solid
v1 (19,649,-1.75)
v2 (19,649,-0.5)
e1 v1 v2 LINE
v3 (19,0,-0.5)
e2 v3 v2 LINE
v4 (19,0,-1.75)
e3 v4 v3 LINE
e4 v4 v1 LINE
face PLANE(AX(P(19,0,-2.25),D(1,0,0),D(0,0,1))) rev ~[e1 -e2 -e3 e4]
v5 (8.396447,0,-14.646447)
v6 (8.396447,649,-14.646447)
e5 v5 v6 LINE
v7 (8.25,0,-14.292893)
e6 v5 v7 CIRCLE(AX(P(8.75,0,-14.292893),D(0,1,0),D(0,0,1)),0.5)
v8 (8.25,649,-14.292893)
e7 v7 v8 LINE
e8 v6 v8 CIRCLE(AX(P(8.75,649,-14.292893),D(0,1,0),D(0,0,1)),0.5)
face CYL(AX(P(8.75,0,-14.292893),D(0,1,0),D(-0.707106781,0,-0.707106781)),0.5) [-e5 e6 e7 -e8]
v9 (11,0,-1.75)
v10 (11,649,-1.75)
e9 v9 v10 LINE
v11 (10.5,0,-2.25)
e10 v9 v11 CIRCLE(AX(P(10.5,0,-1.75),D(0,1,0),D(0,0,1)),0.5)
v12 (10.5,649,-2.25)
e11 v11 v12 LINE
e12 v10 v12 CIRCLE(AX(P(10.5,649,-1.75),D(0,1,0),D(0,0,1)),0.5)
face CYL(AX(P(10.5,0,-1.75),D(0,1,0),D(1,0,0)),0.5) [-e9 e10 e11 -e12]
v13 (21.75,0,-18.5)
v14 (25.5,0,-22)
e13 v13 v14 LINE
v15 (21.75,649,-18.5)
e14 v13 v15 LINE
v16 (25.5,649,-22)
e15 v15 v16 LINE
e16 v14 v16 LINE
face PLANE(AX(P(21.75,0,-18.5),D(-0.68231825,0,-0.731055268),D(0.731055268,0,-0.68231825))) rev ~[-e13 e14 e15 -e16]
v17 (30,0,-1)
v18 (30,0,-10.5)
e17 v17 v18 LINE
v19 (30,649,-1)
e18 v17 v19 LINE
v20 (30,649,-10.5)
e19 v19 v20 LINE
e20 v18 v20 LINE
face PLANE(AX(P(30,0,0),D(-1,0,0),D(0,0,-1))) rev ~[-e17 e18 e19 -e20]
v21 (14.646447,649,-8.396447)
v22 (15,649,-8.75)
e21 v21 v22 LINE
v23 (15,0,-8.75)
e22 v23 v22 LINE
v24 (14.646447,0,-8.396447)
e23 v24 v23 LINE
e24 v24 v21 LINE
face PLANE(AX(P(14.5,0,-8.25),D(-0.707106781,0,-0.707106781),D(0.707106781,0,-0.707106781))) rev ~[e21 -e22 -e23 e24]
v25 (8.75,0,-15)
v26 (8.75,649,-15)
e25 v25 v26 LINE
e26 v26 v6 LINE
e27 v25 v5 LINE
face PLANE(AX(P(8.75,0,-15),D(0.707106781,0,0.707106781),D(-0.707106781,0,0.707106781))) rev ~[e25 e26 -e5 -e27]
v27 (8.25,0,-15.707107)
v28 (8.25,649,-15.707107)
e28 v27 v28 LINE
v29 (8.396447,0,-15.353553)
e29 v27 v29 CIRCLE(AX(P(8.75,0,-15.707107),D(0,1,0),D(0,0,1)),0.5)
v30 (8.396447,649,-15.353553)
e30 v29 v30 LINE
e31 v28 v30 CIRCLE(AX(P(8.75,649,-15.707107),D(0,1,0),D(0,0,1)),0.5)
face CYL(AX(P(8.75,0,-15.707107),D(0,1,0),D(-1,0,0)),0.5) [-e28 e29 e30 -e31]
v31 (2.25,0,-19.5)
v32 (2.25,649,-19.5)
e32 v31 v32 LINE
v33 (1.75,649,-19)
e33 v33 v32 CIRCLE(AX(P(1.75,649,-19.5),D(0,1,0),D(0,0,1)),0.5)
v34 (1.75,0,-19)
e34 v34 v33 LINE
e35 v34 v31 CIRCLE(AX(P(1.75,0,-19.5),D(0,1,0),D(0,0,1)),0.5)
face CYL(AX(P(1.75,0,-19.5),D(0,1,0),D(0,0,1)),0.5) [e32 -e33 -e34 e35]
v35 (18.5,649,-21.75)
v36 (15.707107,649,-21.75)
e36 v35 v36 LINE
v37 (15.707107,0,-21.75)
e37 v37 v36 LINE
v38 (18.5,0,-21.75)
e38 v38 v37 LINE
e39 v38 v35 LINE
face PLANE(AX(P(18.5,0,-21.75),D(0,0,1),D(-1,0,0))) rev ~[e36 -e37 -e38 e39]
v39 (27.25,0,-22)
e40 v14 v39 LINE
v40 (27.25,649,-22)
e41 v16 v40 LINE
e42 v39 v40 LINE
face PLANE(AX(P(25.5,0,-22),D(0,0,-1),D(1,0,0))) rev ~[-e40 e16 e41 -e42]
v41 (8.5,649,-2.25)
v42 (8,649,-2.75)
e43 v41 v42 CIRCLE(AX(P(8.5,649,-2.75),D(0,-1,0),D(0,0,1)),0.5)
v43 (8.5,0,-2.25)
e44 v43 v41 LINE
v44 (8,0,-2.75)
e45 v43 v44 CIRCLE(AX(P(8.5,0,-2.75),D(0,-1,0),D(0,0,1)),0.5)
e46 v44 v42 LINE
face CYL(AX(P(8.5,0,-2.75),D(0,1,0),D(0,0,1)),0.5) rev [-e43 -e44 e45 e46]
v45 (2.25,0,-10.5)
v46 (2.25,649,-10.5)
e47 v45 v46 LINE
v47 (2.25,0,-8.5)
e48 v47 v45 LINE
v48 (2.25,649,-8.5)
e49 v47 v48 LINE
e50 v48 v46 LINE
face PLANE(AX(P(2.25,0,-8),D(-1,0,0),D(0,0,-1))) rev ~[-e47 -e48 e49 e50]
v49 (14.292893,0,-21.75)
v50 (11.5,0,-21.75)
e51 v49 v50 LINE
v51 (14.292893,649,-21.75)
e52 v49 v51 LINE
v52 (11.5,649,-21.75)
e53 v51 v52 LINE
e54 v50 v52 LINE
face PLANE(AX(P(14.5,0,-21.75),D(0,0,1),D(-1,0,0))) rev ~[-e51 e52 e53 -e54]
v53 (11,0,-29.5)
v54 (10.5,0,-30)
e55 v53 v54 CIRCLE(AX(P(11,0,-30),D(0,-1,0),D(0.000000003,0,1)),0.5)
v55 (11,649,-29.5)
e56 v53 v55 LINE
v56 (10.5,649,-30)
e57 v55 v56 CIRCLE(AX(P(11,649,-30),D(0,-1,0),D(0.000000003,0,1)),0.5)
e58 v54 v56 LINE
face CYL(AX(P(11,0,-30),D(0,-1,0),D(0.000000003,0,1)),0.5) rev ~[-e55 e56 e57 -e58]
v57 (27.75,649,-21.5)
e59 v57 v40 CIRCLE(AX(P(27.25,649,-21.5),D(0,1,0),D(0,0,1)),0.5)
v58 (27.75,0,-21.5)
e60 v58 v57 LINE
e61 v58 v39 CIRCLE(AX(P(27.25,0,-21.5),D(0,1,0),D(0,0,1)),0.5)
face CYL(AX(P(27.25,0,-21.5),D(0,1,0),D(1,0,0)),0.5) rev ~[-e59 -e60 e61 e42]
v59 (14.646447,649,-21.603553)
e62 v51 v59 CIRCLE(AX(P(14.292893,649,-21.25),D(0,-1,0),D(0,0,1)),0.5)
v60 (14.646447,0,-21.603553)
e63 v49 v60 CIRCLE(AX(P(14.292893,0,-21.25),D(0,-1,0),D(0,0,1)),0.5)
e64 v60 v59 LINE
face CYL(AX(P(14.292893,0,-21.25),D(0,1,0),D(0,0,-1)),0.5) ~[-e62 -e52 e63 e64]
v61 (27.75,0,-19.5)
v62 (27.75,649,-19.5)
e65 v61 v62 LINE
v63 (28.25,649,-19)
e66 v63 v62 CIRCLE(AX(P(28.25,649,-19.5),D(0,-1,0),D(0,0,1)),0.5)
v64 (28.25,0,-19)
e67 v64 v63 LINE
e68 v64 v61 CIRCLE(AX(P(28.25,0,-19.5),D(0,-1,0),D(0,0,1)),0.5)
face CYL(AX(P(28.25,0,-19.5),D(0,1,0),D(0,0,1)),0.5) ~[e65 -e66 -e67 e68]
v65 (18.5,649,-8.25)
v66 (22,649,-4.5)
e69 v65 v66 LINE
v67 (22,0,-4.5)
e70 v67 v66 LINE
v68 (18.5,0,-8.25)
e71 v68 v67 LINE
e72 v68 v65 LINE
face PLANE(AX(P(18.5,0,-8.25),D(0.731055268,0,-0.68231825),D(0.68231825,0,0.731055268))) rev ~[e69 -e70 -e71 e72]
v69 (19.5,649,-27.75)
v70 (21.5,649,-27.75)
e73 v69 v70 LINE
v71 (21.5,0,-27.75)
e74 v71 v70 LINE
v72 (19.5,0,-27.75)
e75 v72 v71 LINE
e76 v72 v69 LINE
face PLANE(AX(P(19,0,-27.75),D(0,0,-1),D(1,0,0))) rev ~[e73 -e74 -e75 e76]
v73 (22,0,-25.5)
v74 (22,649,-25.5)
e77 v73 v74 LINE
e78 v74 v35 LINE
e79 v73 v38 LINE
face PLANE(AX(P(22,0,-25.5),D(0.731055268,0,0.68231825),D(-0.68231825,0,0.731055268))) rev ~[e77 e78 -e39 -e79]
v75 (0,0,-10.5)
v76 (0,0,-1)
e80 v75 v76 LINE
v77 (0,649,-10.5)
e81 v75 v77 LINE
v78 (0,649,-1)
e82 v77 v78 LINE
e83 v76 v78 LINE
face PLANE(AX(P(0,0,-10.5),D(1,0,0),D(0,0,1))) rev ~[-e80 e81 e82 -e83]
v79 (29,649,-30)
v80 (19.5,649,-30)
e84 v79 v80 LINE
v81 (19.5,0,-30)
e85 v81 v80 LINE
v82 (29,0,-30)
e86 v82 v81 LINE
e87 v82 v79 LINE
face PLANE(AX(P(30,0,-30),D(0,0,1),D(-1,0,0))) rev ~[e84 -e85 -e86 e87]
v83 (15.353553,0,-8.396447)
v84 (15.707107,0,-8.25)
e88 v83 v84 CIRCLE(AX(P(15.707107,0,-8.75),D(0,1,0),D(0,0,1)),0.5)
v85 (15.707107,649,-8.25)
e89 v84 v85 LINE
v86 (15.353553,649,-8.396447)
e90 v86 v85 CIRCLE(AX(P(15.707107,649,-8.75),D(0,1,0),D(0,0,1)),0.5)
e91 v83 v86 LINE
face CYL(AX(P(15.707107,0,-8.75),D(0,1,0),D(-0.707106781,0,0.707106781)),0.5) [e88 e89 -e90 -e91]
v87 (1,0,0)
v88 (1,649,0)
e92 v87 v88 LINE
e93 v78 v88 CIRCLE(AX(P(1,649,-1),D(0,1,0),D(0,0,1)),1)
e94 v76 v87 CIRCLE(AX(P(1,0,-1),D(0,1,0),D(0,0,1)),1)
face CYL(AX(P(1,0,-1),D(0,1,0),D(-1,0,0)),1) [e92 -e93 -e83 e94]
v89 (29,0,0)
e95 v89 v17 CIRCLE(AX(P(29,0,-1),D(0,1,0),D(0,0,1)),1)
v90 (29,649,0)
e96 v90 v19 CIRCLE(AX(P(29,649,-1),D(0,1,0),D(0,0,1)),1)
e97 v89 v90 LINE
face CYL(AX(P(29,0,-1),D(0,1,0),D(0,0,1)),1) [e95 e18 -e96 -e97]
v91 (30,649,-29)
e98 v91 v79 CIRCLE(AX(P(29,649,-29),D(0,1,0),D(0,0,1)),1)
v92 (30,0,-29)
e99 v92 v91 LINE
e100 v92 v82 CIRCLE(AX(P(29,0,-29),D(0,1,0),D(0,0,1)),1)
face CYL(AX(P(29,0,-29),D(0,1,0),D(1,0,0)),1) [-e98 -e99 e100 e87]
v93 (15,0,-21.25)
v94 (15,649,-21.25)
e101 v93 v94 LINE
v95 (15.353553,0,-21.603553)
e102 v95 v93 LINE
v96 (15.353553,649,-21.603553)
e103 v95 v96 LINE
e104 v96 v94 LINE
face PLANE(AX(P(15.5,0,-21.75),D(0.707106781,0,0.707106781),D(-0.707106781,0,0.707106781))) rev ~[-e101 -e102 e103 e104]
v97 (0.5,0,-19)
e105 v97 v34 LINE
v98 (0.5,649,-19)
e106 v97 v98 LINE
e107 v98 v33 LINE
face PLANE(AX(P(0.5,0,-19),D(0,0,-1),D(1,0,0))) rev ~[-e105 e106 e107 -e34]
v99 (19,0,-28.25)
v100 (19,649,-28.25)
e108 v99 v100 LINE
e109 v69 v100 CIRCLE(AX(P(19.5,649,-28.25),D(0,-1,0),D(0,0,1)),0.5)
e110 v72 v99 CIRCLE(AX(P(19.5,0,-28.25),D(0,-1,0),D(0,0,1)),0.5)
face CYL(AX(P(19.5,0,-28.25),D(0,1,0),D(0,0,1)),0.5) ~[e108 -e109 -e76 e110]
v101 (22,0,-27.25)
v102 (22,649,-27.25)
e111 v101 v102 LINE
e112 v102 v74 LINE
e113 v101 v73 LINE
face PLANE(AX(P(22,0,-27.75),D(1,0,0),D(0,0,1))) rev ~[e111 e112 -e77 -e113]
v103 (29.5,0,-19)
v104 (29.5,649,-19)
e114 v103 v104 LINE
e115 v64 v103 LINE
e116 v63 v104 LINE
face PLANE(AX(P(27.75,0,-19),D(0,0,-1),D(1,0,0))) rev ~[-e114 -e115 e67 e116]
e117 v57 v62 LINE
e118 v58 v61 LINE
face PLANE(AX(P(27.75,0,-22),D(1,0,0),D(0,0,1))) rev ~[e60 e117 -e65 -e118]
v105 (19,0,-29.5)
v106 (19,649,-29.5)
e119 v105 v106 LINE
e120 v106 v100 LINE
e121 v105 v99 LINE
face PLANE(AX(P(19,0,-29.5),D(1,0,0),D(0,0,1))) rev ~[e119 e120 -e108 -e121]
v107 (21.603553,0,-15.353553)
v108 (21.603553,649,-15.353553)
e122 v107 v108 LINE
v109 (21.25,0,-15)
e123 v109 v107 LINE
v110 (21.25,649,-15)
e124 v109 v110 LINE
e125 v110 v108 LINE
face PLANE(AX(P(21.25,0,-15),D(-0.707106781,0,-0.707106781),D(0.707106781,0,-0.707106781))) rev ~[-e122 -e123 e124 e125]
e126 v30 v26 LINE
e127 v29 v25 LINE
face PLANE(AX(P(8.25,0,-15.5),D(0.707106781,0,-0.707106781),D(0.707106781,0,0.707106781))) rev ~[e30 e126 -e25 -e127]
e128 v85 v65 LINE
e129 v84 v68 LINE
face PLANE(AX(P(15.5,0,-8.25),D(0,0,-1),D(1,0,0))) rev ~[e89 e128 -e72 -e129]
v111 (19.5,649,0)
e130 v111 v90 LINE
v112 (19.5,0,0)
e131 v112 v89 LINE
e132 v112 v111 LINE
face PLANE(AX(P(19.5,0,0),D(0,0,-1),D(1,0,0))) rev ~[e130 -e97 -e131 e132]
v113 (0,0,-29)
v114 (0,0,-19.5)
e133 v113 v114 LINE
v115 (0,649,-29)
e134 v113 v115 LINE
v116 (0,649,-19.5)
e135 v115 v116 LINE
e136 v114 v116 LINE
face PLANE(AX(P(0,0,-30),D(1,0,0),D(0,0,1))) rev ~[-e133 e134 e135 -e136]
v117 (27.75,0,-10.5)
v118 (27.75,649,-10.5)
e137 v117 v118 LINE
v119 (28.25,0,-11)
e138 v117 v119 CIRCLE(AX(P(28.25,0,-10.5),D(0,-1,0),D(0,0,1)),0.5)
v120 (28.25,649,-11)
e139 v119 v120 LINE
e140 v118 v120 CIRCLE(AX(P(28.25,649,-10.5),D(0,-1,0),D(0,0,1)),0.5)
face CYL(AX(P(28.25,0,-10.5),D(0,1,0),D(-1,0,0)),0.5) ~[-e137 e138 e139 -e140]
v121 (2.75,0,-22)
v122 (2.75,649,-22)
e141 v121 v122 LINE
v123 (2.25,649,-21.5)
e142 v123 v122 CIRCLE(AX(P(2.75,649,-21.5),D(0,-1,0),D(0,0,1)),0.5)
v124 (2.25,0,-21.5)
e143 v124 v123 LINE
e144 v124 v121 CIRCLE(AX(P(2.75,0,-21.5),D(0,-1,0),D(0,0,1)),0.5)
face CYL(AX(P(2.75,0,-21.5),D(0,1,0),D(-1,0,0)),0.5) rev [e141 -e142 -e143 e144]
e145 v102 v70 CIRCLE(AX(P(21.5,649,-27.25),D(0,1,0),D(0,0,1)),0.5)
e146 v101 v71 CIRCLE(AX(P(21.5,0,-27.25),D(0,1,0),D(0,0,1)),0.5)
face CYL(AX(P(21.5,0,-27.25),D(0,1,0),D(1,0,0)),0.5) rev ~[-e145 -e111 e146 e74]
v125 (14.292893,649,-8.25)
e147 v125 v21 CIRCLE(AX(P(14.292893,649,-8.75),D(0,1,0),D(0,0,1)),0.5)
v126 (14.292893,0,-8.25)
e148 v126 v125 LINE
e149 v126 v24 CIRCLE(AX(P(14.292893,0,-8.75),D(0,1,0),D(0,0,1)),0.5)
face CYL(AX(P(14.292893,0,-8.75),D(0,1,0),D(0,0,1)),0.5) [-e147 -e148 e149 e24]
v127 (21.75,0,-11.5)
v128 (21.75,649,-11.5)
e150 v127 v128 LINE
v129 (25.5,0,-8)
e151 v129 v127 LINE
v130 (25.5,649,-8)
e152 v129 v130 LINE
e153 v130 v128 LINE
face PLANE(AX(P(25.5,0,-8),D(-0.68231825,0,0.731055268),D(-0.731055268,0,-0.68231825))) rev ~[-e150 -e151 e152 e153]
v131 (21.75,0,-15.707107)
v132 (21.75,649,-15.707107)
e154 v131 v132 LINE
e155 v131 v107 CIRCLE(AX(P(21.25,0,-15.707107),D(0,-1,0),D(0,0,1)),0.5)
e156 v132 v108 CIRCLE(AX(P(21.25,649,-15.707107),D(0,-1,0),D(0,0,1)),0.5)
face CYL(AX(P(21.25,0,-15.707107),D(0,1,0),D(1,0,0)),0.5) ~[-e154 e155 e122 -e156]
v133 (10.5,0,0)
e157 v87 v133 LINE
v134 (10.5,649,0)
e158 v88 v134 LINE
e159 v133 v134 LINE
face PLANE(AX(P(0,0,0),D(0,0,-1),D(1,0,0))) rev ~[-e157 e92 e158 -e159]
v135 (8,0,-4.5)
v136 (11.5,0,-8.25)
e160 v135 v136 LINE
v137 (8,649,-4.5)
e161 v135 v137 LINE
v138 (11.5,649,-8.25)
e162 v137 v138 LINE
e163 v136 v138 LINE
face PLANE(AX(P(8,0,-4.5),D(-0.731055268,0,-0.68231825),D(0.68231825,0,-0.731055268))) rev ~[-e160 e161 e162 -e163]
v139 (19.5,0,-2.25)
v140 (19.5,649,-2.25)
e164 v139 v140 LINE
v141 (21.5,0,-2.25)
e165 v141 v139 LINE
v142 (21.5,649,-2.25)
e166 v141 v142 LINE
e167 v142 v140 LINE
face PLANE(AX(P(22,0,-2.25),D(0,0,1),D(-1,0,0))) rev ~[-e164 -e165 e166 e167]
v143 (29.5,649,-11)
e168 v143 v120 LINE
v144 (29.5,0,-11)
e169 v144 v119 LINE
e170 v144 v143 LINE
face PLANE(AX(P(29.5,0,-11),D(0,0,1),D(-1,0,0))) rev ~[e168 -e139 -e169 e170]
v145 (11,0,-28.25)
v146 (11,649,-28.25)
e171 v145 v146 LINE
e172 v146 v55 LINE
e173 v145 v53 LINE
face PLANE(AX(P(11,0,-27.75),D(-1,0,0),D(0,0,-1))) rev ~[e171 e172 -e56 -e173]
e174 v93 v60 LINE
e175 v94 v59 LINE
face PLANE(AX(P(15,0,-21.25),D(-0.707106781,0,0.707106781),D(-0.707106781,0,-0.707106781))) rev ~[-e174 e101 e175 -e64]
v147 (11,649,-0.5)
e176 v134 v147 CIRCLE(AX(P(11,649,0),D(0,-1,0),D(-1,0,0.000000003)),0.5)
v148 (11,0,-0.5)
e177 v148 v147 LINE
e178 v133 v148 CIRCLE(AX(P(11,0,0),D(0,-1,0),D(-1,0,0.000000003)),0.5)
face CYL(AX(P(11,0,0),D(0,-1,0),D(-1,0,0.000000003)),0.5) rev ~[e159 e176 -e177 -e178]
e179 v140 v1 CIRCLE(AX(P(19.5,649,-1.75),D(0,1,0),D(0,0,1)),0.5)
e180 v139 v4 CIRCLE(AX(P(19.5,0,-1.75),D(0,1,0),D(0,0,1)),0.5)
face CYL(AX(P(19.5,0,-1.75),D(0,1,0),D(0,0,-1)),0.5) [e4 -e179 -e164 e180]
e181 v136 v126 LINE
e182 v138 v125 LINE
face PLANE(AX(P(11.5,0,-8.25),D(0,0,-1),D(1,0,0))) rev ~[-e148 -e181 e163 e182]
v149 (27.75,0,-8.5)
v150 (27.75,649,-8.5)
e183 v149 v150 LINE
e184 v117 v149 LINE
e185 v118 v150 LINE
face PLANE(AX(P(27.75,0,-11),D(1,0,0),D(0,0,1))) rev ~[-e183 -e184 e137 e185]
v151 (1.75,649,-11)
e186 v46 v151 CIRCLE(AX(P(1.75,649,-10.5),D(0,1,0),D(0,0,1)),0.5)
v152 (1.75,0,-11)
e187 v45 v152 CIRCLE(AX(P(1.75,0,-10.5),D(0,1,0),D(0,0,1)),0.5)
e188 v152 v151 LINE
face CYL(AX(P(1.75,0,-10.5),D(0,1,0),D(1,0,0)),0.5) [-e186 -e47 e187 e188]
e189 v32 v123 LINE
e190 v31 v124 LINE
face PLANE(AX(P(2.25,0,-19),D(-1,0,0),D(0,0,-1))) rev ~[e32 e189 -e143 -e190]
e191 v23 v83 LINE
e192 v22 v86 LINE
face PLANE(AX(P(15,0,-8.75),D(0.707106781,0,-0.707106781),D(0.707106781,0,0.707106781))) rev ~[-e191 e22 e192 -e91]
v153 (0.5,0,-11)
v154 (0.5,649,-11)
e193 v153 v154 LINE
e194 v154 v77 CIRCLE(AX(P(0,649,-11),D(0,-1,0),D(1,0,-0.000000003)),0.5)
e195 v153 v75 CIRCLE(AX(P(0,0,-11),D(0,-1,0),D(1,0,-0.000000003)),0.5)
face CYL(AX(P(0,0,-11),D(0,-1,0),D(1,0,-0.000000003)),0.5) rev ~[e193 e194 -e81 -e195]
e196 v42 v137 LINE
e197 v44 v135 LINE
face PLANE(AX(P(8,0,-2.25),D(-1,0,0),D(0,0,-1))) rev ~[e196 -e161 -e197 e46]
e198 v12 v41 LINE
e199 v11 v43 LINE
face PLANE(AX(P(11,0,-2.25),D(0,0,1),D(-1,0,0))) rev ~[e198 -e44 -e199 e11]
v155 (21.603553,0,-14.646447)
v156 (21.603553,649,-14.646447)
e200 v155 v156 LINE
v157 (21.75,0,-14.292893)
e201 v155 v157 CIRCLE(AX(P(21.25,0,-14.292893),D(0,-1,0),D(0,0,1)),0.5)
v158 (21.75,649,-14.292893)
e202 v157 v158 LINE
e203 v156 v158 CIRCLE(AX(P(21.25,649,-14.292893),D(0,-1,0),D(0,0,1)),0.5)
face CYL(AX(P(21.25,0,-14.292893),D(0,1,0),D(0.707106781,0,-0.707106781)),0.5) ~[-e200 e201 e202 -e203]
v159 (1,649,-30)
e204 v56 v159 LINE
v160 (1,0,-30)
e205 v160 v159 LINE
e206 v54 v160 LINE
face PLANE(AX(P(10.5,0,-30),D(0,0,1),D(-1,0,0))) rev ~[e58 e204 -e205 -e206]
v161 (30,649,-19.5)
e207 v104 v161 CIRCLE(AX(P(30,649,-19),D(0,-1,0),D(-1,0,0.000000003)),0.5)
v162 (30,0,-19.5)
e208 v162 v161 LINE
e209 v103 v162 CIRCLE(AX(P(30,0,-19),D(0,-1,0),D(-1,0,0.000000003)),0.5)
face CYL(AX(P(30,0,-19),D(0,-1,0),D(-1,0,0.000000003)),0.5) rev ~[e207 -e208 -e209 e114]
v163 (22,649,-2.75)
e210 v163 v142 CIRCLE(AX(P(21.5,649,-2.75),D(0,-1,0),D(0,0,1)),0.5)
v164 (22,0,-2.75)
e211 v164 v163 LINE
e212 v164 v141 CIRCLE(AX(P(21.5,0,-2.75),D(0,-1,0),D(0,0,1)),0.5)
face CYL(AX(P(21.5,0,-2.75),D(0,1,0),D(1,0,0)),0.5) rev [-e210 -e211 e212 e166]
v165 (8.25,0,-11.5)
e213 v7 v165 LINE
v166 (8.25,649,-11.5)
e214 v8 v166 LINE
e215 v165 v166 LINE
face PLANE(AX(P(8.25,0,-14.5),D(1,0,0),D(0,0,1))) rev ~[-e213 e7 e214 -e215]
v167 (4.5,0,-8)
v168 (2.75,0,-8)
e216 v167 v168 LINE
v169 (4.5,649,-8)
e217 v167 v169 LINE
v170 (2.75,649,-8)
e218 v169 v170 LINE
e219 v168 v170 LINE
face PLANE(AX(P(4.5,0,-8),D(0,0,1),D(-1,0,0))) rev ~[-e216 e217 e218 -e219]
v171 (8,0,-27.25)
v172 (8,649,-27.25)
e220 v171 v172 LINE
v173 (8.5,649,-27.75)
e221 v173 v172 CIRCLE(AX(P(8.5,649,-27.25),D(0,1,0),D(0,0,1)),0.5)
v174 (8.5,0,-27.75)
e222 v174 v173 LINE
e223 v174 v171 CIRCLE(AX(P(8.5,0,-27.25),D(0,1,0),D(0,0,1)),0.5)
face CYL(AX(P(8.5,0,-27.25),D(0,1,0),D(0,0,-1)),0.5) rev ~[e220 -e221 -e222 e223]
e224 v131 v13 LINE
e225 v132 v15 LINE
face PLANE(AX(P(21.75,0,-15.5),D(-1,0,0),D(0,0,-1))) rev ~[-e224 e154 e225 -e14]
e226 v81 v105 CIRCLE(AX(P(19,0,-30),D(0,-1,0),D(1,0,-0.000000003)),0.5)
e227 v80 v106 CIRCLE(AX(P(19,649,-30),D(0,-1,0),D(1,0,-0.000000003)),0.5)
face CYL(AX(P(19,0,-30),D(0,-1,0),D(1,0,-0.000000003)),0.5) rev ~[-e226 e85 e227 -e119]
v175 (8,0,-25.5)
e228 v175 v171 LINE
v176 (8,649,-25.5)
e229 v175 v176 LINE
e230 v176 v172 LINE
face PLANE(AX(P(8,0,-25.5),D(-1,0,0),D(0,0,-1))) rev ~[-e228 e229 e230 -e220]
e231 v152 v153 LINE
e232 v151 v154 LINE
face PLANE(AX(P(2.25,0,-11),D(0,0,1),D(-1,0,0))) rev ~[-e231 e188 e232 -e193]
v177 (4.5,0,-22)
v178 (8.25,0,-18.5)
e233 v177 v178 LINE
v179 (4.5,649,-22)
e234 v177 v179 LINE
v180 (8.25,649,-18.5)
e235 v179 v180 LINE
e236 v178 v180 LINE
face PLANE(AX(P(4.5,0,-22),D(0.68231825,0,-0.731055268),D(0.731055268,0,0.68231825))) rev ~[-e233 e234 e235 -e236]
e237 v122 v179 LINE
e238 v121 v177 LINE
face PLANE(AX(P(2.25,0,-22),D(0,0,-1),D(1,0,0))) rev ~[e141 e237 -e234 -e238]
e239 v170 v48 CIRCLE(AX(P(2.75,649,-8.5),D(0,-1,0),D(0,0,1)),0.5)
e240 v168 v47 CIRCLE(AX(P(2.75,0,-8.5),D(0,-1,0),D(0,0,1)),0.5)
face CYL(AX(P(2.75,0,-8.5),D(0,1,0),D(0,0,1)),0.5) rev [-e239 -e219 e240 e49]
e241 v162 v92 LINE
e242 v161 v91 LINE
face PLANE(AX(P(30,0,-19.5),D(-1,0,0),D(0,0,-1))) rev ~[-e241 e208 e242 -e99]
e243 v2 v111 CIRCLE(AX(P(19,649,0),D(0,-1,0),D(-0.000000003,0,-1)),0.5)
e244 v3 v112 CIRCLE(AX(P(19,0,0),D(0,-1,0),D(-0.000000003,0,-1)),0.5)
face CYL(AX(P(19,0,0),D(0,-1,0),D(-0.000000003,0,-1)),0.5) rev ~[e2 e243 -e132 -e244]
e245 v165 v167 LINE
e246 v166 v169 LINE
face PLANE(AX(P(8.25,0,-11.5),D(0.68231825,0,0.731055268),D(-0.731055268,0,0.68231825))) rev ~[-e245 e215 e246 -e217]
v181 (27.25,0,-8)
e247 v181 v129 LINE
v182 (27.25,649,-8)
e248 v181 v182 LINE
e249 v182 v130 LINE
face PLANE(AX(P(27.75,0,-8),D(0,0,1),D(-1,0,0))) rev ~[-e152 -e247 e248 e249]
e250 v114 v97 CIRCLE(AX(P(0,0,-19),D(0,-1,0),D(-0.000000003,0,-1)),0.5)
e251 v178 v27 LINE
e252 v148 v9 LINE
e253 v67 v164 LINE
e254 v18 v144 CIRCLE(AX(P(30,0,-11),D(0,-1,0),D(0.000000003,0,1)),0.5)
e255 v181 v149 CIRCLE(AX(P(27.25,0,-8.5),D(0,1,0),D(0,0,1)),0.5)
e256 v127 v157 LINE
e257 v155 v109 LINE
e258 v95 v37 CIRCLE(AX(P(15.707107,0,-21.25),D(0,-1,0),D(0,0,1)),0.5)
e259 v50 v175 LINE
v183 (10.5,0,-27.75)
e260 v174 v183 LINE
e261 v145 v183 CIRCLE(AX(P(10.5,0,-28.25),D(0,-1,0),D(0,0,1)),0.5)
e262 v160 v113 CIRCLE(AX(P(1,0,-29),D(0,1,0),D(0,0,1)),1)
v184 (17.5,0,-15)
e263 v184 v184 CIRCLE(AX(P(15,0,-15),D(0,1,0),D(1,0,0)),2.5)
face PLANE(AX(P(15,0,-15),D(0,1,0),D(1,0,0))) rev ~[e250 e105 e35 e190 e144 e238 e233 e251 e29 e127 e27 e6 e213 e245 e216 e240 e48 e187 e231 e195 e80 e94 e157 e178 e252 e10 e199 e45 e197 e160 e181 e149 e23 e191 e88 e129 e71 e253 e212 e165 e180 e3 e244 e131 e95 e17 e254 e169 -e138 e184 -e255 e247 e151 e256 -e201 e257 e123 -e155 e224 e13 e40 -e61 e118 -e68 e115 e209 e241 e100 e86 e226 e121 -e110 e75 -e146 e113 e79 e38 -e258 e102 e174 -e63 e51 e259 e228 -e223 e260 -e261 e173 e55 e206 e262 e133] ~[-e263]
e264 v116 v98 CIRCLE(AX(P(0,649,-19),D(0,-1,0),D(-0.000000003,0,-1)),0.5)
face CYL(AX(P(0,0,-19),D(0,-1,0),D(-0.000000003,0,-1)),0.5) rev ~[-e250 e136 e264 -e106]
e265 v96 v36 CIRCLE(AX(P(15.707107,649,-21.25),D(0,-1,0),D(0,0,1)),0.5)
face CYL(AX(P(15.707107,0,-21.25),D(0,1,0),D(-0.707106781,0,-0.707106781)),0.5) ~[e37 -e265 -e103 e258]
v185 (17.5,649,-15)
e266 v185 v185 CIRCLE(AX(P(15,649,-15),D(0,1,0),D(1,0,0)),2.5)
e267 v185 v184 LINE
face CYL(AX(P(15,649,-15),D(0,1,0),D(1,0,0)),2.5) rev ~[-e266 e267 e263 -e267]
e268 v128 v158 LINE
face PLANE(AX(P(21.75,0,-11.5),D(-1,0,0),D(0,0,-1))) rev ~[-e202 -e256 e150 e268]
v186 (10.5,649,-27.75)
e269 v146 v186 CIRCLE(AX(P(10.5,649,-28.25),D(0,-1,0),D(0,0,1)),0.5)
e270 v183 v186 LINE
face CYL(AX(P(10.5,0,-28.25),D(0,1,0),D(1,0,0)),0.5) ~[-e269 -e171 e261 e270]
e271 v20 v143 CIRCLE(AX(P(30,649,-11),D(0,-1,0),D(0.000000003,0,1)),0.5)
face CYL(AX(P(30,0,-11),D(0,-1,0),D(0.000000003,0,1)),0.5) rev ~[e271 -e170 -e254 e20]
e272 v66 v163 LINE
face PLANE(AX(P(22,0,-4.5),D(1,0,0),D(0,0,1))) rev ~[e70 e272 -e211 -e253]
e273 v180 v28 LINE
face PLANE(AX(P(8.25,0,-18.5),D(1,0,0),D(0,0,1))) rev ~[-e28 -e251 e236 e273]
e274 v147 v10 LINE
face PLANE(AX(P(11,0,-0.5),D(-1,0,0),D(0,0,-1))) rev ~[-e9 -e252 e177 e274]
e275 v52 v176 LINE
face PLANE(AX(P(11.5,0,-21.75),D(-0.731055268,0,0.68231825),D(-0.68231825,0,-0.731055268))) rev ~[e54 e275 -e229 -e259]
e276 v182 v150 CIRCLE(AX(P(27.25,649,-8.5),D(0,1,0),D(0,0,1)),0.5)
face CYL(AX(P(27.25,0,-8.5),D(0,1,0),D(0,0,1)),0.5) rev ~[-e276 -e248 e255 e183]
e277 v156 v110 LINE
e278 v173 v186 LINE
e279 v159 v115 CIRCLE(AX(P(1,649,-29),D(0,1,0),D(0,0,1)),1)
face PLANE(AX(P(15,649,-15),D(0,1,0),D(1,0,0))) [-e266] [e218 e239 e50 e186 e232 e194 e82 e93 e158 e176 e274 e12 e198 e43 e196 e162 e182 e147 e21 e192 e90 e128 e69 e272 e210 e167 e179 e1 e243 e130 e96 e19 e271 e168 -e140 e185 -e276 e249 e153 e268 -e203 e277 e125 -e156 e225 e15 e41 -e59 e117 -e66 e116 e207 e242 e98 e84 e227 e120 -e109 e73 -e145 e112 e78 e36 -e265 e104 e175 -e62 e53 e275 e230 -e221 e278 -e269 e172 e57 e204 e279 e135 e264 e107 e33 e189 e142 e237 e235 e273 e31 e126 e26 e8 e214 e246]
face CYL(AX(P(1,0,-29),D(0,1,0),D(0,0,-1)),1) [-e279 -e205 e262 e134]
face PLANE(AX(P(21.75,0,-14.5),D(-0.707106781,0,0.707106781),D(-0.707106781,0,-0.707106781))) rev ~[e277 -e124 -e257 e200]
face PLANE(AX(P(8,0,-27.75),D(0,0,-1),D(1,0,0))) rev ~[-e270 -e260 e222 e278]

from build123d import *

# Parameters (mm, degrees)
BOSS_EXTRUDE1_DEPTH = 649
FILLET1_R           = 1
SKETCH4_R           = 2.5
CUT_EXTRUDE1_DEPTH  = 650
FILLET2_R           = 0.5


with BuildPart() as part:
    # Sketch3 → Boss-Extrude1 (new body)
    with BuildSketch(Plane(origin=(0, 0, 0), x_dir=(1, 0, 0), z_dir=(0, 1, 0))):
        with BuildLine():
            Line((11, 27.75), (11, 29.5))
            ThreePointArc((11, 29.5), (10.646446609, 29.646446609), (10.5, 30))
            Line((10.5, 30), (0, 30))
            Line((0, 30), (0, 19.5))
            ThreePointArc((0, 19.5), (0.353553391, 19.353553391), (0.5, 19))
            Line((0.5, 19), (2.25, 19))
            Line((2.25, 19), (2.25, 22))
            Line((2.25, 22), (4.5, 22))
            Line((4.5, 22), (8.25, 18.5))
            Line((8.25, 18.5), (8.25, 15.5))
            Line((8.25, 15.5), (8.75, 15))
            Line((8.75, 15), (8.25, 14.5))
            Line((8.25, 14.5), (8.25, 11.5))
            Line((8.25, 11.5), (4.5, 8))
            Line((4.5, 8), (2.25, 8))
            Line((2.25, 8), (2.25, 11))
            Line((2.25, 11), (0.5, 11))
            ThreePointArc((0.5, 11), (0.353553391, 10.646446609), (0, 10.5))
            Line((0, 10.5), (0, 0))
            Line((0, 0), (10.5, 0))
            ThreePointArc((10.5, 0), (10.646446609, 0.353553391), (11, 0.5))
            Line((11, 0.5), (11, 2.25))
            Line((11, 2.25), (8, 2.25))
            Line((8, 2.25), (8, 4.5))
            Line((8, 4.5), (11.5, 8.25))
            Line((11.5, 8.25), (14.5, 8.25))
            Line((14.5, 8.25), (15, 8.75))
            Line((15, 8.75), (15.5, 8.25))
            Line((15.5, 8.25), (18.5, 8.25))
            Line((18.5, 8.25), (22, 4.5))
            Line((22, 4.5), (22, 2.25))
            Line((22, 2.25), (19, 2.25))
            Line((19, 2.25), (19, 0.5))
            ThreePointArc((19, 0.5), (19.353553391, 0.353553391), (19.5, 0))
            Line((19.5, 0), (30, 0))
            Line((30, 0), (30, 10.5))
            ThreePointArc((30, 10.5), (29.646446609, 10.646446609), (29.5, 11))
            Line((29.5, 11), (27.75, 11))
            Line((27.75, 11), (27.75, 8))
            Line((27.75, 8), (25.5, 8))
            Line((25.5, 8), (21.75, 11.5))
            Line((21.75, 11.5), (21.75, 14.5))
            Line((21.75, 14.5), (21.25, 15))
            Line((21.25, 15), (21.75, 15.5))
            Line((21.75, 15.5), (21.75, 18.5))
            Line((21.75, 18.5), (25.5, 22))
            Line((25.5, 22), (27.75, 22))
            Line((27.75, 22), (27.75, 19))
            Line((27.75, 19), (29.5, 19))
            ThreePointArc((29.5, 19), (29.646446609, 19.353553391), (30, 19.5))
            Line((30, 19.5), (30, 30))
            Line((30, 30), (19.5, 30))
            ThreePointArc((19.5, 30), (19.353553391, 29.646446609), (19, 29.5))
            Line((19, 29.5), (19, 27.75))
            Line((19, 27.75), (22, 27.75))
            Line((22, 27.75), (22, 25.5))
            Line((22, 25.5), (18.5, 21.75))
            Line((18.5, 21.75), (15.5, 21.75))
            Line((15.5, 21.75), (15, 21.25))
            Line((15, 21.25), (14.5, 21.75))
            Line((14.5, 21.75), (11.5, 21.75))
            Line((11.5, 21.75), (8, 25.5))
            Line((8, 25.5), (8, 27.75))
            Line((8, 27.75), (11, 27.75))
        make_face()
    extrude(amount=BOSS_EXTRUDE1_DEPTH)

    # Fillet1
    fillet1_edges = [part.edges().sort_by_distance(p)[0] for p in [
        (30, 324.5, 0),
        (0, 324.5, 0),
        (0, 324.5, -30),
        (30, 324.5, -30),
    ]]
    fillet(fillet1_edges, radius=FILLET1_R)

    # Sketch4 → Cut-Extrude1 (cut, through all)
    with BuildSketch(Plane(origin=(0, 649, 0), x_dir=(1, 0, 0), z_dir=(0, 1, 0))):
        with Locations((15, 15)):
            Circle(SKETCH4_R)
    extrude(amount=-CUT_EXTRUDE1_DEPTH, mode=Mode.SUBTRACT)

    # Fillet2
    fillet2_edges = [part.edges().sort_by_distance(p)[0] for p in [
        (27.75, 324.5, -19),
        (27.75, 324.5, -22),
        (21.75, 324.5, -15.5),
        (21.75, 324.5, -14.5),
        (27.75, 324.5, -8),
        (27.75, 324.5, -11),
        (19, 324.5, -2.25),
        (22, 324.5, -2.25),
        (15.5, 324.5, -8.25),
        (14.5, 324.5, -8.25),
        (8, 324.5, -2.25),
        (11, 324.5, -2.25),
        (2.25, 324.5, -11),
        (2.25, 324.5, -8),
        (8.25, 324.5, -14.5),
        (8.25, 324.5, -15.5),
        (2.25, 324.5, -22),
        (2.25, 324.5, -19),
        (11, 324.5, -27.75),
        (8, 324.5, -27.75),
        (14.5, 324.5, -21.75),
        (15.5, 324.5, -21.75),
        (22, 324.5, -27.75),
        (19, 324.5, -27.75),
    ]]
    fillet(fillet2_edges, radius=FILLET2_R)


solid = part.part
